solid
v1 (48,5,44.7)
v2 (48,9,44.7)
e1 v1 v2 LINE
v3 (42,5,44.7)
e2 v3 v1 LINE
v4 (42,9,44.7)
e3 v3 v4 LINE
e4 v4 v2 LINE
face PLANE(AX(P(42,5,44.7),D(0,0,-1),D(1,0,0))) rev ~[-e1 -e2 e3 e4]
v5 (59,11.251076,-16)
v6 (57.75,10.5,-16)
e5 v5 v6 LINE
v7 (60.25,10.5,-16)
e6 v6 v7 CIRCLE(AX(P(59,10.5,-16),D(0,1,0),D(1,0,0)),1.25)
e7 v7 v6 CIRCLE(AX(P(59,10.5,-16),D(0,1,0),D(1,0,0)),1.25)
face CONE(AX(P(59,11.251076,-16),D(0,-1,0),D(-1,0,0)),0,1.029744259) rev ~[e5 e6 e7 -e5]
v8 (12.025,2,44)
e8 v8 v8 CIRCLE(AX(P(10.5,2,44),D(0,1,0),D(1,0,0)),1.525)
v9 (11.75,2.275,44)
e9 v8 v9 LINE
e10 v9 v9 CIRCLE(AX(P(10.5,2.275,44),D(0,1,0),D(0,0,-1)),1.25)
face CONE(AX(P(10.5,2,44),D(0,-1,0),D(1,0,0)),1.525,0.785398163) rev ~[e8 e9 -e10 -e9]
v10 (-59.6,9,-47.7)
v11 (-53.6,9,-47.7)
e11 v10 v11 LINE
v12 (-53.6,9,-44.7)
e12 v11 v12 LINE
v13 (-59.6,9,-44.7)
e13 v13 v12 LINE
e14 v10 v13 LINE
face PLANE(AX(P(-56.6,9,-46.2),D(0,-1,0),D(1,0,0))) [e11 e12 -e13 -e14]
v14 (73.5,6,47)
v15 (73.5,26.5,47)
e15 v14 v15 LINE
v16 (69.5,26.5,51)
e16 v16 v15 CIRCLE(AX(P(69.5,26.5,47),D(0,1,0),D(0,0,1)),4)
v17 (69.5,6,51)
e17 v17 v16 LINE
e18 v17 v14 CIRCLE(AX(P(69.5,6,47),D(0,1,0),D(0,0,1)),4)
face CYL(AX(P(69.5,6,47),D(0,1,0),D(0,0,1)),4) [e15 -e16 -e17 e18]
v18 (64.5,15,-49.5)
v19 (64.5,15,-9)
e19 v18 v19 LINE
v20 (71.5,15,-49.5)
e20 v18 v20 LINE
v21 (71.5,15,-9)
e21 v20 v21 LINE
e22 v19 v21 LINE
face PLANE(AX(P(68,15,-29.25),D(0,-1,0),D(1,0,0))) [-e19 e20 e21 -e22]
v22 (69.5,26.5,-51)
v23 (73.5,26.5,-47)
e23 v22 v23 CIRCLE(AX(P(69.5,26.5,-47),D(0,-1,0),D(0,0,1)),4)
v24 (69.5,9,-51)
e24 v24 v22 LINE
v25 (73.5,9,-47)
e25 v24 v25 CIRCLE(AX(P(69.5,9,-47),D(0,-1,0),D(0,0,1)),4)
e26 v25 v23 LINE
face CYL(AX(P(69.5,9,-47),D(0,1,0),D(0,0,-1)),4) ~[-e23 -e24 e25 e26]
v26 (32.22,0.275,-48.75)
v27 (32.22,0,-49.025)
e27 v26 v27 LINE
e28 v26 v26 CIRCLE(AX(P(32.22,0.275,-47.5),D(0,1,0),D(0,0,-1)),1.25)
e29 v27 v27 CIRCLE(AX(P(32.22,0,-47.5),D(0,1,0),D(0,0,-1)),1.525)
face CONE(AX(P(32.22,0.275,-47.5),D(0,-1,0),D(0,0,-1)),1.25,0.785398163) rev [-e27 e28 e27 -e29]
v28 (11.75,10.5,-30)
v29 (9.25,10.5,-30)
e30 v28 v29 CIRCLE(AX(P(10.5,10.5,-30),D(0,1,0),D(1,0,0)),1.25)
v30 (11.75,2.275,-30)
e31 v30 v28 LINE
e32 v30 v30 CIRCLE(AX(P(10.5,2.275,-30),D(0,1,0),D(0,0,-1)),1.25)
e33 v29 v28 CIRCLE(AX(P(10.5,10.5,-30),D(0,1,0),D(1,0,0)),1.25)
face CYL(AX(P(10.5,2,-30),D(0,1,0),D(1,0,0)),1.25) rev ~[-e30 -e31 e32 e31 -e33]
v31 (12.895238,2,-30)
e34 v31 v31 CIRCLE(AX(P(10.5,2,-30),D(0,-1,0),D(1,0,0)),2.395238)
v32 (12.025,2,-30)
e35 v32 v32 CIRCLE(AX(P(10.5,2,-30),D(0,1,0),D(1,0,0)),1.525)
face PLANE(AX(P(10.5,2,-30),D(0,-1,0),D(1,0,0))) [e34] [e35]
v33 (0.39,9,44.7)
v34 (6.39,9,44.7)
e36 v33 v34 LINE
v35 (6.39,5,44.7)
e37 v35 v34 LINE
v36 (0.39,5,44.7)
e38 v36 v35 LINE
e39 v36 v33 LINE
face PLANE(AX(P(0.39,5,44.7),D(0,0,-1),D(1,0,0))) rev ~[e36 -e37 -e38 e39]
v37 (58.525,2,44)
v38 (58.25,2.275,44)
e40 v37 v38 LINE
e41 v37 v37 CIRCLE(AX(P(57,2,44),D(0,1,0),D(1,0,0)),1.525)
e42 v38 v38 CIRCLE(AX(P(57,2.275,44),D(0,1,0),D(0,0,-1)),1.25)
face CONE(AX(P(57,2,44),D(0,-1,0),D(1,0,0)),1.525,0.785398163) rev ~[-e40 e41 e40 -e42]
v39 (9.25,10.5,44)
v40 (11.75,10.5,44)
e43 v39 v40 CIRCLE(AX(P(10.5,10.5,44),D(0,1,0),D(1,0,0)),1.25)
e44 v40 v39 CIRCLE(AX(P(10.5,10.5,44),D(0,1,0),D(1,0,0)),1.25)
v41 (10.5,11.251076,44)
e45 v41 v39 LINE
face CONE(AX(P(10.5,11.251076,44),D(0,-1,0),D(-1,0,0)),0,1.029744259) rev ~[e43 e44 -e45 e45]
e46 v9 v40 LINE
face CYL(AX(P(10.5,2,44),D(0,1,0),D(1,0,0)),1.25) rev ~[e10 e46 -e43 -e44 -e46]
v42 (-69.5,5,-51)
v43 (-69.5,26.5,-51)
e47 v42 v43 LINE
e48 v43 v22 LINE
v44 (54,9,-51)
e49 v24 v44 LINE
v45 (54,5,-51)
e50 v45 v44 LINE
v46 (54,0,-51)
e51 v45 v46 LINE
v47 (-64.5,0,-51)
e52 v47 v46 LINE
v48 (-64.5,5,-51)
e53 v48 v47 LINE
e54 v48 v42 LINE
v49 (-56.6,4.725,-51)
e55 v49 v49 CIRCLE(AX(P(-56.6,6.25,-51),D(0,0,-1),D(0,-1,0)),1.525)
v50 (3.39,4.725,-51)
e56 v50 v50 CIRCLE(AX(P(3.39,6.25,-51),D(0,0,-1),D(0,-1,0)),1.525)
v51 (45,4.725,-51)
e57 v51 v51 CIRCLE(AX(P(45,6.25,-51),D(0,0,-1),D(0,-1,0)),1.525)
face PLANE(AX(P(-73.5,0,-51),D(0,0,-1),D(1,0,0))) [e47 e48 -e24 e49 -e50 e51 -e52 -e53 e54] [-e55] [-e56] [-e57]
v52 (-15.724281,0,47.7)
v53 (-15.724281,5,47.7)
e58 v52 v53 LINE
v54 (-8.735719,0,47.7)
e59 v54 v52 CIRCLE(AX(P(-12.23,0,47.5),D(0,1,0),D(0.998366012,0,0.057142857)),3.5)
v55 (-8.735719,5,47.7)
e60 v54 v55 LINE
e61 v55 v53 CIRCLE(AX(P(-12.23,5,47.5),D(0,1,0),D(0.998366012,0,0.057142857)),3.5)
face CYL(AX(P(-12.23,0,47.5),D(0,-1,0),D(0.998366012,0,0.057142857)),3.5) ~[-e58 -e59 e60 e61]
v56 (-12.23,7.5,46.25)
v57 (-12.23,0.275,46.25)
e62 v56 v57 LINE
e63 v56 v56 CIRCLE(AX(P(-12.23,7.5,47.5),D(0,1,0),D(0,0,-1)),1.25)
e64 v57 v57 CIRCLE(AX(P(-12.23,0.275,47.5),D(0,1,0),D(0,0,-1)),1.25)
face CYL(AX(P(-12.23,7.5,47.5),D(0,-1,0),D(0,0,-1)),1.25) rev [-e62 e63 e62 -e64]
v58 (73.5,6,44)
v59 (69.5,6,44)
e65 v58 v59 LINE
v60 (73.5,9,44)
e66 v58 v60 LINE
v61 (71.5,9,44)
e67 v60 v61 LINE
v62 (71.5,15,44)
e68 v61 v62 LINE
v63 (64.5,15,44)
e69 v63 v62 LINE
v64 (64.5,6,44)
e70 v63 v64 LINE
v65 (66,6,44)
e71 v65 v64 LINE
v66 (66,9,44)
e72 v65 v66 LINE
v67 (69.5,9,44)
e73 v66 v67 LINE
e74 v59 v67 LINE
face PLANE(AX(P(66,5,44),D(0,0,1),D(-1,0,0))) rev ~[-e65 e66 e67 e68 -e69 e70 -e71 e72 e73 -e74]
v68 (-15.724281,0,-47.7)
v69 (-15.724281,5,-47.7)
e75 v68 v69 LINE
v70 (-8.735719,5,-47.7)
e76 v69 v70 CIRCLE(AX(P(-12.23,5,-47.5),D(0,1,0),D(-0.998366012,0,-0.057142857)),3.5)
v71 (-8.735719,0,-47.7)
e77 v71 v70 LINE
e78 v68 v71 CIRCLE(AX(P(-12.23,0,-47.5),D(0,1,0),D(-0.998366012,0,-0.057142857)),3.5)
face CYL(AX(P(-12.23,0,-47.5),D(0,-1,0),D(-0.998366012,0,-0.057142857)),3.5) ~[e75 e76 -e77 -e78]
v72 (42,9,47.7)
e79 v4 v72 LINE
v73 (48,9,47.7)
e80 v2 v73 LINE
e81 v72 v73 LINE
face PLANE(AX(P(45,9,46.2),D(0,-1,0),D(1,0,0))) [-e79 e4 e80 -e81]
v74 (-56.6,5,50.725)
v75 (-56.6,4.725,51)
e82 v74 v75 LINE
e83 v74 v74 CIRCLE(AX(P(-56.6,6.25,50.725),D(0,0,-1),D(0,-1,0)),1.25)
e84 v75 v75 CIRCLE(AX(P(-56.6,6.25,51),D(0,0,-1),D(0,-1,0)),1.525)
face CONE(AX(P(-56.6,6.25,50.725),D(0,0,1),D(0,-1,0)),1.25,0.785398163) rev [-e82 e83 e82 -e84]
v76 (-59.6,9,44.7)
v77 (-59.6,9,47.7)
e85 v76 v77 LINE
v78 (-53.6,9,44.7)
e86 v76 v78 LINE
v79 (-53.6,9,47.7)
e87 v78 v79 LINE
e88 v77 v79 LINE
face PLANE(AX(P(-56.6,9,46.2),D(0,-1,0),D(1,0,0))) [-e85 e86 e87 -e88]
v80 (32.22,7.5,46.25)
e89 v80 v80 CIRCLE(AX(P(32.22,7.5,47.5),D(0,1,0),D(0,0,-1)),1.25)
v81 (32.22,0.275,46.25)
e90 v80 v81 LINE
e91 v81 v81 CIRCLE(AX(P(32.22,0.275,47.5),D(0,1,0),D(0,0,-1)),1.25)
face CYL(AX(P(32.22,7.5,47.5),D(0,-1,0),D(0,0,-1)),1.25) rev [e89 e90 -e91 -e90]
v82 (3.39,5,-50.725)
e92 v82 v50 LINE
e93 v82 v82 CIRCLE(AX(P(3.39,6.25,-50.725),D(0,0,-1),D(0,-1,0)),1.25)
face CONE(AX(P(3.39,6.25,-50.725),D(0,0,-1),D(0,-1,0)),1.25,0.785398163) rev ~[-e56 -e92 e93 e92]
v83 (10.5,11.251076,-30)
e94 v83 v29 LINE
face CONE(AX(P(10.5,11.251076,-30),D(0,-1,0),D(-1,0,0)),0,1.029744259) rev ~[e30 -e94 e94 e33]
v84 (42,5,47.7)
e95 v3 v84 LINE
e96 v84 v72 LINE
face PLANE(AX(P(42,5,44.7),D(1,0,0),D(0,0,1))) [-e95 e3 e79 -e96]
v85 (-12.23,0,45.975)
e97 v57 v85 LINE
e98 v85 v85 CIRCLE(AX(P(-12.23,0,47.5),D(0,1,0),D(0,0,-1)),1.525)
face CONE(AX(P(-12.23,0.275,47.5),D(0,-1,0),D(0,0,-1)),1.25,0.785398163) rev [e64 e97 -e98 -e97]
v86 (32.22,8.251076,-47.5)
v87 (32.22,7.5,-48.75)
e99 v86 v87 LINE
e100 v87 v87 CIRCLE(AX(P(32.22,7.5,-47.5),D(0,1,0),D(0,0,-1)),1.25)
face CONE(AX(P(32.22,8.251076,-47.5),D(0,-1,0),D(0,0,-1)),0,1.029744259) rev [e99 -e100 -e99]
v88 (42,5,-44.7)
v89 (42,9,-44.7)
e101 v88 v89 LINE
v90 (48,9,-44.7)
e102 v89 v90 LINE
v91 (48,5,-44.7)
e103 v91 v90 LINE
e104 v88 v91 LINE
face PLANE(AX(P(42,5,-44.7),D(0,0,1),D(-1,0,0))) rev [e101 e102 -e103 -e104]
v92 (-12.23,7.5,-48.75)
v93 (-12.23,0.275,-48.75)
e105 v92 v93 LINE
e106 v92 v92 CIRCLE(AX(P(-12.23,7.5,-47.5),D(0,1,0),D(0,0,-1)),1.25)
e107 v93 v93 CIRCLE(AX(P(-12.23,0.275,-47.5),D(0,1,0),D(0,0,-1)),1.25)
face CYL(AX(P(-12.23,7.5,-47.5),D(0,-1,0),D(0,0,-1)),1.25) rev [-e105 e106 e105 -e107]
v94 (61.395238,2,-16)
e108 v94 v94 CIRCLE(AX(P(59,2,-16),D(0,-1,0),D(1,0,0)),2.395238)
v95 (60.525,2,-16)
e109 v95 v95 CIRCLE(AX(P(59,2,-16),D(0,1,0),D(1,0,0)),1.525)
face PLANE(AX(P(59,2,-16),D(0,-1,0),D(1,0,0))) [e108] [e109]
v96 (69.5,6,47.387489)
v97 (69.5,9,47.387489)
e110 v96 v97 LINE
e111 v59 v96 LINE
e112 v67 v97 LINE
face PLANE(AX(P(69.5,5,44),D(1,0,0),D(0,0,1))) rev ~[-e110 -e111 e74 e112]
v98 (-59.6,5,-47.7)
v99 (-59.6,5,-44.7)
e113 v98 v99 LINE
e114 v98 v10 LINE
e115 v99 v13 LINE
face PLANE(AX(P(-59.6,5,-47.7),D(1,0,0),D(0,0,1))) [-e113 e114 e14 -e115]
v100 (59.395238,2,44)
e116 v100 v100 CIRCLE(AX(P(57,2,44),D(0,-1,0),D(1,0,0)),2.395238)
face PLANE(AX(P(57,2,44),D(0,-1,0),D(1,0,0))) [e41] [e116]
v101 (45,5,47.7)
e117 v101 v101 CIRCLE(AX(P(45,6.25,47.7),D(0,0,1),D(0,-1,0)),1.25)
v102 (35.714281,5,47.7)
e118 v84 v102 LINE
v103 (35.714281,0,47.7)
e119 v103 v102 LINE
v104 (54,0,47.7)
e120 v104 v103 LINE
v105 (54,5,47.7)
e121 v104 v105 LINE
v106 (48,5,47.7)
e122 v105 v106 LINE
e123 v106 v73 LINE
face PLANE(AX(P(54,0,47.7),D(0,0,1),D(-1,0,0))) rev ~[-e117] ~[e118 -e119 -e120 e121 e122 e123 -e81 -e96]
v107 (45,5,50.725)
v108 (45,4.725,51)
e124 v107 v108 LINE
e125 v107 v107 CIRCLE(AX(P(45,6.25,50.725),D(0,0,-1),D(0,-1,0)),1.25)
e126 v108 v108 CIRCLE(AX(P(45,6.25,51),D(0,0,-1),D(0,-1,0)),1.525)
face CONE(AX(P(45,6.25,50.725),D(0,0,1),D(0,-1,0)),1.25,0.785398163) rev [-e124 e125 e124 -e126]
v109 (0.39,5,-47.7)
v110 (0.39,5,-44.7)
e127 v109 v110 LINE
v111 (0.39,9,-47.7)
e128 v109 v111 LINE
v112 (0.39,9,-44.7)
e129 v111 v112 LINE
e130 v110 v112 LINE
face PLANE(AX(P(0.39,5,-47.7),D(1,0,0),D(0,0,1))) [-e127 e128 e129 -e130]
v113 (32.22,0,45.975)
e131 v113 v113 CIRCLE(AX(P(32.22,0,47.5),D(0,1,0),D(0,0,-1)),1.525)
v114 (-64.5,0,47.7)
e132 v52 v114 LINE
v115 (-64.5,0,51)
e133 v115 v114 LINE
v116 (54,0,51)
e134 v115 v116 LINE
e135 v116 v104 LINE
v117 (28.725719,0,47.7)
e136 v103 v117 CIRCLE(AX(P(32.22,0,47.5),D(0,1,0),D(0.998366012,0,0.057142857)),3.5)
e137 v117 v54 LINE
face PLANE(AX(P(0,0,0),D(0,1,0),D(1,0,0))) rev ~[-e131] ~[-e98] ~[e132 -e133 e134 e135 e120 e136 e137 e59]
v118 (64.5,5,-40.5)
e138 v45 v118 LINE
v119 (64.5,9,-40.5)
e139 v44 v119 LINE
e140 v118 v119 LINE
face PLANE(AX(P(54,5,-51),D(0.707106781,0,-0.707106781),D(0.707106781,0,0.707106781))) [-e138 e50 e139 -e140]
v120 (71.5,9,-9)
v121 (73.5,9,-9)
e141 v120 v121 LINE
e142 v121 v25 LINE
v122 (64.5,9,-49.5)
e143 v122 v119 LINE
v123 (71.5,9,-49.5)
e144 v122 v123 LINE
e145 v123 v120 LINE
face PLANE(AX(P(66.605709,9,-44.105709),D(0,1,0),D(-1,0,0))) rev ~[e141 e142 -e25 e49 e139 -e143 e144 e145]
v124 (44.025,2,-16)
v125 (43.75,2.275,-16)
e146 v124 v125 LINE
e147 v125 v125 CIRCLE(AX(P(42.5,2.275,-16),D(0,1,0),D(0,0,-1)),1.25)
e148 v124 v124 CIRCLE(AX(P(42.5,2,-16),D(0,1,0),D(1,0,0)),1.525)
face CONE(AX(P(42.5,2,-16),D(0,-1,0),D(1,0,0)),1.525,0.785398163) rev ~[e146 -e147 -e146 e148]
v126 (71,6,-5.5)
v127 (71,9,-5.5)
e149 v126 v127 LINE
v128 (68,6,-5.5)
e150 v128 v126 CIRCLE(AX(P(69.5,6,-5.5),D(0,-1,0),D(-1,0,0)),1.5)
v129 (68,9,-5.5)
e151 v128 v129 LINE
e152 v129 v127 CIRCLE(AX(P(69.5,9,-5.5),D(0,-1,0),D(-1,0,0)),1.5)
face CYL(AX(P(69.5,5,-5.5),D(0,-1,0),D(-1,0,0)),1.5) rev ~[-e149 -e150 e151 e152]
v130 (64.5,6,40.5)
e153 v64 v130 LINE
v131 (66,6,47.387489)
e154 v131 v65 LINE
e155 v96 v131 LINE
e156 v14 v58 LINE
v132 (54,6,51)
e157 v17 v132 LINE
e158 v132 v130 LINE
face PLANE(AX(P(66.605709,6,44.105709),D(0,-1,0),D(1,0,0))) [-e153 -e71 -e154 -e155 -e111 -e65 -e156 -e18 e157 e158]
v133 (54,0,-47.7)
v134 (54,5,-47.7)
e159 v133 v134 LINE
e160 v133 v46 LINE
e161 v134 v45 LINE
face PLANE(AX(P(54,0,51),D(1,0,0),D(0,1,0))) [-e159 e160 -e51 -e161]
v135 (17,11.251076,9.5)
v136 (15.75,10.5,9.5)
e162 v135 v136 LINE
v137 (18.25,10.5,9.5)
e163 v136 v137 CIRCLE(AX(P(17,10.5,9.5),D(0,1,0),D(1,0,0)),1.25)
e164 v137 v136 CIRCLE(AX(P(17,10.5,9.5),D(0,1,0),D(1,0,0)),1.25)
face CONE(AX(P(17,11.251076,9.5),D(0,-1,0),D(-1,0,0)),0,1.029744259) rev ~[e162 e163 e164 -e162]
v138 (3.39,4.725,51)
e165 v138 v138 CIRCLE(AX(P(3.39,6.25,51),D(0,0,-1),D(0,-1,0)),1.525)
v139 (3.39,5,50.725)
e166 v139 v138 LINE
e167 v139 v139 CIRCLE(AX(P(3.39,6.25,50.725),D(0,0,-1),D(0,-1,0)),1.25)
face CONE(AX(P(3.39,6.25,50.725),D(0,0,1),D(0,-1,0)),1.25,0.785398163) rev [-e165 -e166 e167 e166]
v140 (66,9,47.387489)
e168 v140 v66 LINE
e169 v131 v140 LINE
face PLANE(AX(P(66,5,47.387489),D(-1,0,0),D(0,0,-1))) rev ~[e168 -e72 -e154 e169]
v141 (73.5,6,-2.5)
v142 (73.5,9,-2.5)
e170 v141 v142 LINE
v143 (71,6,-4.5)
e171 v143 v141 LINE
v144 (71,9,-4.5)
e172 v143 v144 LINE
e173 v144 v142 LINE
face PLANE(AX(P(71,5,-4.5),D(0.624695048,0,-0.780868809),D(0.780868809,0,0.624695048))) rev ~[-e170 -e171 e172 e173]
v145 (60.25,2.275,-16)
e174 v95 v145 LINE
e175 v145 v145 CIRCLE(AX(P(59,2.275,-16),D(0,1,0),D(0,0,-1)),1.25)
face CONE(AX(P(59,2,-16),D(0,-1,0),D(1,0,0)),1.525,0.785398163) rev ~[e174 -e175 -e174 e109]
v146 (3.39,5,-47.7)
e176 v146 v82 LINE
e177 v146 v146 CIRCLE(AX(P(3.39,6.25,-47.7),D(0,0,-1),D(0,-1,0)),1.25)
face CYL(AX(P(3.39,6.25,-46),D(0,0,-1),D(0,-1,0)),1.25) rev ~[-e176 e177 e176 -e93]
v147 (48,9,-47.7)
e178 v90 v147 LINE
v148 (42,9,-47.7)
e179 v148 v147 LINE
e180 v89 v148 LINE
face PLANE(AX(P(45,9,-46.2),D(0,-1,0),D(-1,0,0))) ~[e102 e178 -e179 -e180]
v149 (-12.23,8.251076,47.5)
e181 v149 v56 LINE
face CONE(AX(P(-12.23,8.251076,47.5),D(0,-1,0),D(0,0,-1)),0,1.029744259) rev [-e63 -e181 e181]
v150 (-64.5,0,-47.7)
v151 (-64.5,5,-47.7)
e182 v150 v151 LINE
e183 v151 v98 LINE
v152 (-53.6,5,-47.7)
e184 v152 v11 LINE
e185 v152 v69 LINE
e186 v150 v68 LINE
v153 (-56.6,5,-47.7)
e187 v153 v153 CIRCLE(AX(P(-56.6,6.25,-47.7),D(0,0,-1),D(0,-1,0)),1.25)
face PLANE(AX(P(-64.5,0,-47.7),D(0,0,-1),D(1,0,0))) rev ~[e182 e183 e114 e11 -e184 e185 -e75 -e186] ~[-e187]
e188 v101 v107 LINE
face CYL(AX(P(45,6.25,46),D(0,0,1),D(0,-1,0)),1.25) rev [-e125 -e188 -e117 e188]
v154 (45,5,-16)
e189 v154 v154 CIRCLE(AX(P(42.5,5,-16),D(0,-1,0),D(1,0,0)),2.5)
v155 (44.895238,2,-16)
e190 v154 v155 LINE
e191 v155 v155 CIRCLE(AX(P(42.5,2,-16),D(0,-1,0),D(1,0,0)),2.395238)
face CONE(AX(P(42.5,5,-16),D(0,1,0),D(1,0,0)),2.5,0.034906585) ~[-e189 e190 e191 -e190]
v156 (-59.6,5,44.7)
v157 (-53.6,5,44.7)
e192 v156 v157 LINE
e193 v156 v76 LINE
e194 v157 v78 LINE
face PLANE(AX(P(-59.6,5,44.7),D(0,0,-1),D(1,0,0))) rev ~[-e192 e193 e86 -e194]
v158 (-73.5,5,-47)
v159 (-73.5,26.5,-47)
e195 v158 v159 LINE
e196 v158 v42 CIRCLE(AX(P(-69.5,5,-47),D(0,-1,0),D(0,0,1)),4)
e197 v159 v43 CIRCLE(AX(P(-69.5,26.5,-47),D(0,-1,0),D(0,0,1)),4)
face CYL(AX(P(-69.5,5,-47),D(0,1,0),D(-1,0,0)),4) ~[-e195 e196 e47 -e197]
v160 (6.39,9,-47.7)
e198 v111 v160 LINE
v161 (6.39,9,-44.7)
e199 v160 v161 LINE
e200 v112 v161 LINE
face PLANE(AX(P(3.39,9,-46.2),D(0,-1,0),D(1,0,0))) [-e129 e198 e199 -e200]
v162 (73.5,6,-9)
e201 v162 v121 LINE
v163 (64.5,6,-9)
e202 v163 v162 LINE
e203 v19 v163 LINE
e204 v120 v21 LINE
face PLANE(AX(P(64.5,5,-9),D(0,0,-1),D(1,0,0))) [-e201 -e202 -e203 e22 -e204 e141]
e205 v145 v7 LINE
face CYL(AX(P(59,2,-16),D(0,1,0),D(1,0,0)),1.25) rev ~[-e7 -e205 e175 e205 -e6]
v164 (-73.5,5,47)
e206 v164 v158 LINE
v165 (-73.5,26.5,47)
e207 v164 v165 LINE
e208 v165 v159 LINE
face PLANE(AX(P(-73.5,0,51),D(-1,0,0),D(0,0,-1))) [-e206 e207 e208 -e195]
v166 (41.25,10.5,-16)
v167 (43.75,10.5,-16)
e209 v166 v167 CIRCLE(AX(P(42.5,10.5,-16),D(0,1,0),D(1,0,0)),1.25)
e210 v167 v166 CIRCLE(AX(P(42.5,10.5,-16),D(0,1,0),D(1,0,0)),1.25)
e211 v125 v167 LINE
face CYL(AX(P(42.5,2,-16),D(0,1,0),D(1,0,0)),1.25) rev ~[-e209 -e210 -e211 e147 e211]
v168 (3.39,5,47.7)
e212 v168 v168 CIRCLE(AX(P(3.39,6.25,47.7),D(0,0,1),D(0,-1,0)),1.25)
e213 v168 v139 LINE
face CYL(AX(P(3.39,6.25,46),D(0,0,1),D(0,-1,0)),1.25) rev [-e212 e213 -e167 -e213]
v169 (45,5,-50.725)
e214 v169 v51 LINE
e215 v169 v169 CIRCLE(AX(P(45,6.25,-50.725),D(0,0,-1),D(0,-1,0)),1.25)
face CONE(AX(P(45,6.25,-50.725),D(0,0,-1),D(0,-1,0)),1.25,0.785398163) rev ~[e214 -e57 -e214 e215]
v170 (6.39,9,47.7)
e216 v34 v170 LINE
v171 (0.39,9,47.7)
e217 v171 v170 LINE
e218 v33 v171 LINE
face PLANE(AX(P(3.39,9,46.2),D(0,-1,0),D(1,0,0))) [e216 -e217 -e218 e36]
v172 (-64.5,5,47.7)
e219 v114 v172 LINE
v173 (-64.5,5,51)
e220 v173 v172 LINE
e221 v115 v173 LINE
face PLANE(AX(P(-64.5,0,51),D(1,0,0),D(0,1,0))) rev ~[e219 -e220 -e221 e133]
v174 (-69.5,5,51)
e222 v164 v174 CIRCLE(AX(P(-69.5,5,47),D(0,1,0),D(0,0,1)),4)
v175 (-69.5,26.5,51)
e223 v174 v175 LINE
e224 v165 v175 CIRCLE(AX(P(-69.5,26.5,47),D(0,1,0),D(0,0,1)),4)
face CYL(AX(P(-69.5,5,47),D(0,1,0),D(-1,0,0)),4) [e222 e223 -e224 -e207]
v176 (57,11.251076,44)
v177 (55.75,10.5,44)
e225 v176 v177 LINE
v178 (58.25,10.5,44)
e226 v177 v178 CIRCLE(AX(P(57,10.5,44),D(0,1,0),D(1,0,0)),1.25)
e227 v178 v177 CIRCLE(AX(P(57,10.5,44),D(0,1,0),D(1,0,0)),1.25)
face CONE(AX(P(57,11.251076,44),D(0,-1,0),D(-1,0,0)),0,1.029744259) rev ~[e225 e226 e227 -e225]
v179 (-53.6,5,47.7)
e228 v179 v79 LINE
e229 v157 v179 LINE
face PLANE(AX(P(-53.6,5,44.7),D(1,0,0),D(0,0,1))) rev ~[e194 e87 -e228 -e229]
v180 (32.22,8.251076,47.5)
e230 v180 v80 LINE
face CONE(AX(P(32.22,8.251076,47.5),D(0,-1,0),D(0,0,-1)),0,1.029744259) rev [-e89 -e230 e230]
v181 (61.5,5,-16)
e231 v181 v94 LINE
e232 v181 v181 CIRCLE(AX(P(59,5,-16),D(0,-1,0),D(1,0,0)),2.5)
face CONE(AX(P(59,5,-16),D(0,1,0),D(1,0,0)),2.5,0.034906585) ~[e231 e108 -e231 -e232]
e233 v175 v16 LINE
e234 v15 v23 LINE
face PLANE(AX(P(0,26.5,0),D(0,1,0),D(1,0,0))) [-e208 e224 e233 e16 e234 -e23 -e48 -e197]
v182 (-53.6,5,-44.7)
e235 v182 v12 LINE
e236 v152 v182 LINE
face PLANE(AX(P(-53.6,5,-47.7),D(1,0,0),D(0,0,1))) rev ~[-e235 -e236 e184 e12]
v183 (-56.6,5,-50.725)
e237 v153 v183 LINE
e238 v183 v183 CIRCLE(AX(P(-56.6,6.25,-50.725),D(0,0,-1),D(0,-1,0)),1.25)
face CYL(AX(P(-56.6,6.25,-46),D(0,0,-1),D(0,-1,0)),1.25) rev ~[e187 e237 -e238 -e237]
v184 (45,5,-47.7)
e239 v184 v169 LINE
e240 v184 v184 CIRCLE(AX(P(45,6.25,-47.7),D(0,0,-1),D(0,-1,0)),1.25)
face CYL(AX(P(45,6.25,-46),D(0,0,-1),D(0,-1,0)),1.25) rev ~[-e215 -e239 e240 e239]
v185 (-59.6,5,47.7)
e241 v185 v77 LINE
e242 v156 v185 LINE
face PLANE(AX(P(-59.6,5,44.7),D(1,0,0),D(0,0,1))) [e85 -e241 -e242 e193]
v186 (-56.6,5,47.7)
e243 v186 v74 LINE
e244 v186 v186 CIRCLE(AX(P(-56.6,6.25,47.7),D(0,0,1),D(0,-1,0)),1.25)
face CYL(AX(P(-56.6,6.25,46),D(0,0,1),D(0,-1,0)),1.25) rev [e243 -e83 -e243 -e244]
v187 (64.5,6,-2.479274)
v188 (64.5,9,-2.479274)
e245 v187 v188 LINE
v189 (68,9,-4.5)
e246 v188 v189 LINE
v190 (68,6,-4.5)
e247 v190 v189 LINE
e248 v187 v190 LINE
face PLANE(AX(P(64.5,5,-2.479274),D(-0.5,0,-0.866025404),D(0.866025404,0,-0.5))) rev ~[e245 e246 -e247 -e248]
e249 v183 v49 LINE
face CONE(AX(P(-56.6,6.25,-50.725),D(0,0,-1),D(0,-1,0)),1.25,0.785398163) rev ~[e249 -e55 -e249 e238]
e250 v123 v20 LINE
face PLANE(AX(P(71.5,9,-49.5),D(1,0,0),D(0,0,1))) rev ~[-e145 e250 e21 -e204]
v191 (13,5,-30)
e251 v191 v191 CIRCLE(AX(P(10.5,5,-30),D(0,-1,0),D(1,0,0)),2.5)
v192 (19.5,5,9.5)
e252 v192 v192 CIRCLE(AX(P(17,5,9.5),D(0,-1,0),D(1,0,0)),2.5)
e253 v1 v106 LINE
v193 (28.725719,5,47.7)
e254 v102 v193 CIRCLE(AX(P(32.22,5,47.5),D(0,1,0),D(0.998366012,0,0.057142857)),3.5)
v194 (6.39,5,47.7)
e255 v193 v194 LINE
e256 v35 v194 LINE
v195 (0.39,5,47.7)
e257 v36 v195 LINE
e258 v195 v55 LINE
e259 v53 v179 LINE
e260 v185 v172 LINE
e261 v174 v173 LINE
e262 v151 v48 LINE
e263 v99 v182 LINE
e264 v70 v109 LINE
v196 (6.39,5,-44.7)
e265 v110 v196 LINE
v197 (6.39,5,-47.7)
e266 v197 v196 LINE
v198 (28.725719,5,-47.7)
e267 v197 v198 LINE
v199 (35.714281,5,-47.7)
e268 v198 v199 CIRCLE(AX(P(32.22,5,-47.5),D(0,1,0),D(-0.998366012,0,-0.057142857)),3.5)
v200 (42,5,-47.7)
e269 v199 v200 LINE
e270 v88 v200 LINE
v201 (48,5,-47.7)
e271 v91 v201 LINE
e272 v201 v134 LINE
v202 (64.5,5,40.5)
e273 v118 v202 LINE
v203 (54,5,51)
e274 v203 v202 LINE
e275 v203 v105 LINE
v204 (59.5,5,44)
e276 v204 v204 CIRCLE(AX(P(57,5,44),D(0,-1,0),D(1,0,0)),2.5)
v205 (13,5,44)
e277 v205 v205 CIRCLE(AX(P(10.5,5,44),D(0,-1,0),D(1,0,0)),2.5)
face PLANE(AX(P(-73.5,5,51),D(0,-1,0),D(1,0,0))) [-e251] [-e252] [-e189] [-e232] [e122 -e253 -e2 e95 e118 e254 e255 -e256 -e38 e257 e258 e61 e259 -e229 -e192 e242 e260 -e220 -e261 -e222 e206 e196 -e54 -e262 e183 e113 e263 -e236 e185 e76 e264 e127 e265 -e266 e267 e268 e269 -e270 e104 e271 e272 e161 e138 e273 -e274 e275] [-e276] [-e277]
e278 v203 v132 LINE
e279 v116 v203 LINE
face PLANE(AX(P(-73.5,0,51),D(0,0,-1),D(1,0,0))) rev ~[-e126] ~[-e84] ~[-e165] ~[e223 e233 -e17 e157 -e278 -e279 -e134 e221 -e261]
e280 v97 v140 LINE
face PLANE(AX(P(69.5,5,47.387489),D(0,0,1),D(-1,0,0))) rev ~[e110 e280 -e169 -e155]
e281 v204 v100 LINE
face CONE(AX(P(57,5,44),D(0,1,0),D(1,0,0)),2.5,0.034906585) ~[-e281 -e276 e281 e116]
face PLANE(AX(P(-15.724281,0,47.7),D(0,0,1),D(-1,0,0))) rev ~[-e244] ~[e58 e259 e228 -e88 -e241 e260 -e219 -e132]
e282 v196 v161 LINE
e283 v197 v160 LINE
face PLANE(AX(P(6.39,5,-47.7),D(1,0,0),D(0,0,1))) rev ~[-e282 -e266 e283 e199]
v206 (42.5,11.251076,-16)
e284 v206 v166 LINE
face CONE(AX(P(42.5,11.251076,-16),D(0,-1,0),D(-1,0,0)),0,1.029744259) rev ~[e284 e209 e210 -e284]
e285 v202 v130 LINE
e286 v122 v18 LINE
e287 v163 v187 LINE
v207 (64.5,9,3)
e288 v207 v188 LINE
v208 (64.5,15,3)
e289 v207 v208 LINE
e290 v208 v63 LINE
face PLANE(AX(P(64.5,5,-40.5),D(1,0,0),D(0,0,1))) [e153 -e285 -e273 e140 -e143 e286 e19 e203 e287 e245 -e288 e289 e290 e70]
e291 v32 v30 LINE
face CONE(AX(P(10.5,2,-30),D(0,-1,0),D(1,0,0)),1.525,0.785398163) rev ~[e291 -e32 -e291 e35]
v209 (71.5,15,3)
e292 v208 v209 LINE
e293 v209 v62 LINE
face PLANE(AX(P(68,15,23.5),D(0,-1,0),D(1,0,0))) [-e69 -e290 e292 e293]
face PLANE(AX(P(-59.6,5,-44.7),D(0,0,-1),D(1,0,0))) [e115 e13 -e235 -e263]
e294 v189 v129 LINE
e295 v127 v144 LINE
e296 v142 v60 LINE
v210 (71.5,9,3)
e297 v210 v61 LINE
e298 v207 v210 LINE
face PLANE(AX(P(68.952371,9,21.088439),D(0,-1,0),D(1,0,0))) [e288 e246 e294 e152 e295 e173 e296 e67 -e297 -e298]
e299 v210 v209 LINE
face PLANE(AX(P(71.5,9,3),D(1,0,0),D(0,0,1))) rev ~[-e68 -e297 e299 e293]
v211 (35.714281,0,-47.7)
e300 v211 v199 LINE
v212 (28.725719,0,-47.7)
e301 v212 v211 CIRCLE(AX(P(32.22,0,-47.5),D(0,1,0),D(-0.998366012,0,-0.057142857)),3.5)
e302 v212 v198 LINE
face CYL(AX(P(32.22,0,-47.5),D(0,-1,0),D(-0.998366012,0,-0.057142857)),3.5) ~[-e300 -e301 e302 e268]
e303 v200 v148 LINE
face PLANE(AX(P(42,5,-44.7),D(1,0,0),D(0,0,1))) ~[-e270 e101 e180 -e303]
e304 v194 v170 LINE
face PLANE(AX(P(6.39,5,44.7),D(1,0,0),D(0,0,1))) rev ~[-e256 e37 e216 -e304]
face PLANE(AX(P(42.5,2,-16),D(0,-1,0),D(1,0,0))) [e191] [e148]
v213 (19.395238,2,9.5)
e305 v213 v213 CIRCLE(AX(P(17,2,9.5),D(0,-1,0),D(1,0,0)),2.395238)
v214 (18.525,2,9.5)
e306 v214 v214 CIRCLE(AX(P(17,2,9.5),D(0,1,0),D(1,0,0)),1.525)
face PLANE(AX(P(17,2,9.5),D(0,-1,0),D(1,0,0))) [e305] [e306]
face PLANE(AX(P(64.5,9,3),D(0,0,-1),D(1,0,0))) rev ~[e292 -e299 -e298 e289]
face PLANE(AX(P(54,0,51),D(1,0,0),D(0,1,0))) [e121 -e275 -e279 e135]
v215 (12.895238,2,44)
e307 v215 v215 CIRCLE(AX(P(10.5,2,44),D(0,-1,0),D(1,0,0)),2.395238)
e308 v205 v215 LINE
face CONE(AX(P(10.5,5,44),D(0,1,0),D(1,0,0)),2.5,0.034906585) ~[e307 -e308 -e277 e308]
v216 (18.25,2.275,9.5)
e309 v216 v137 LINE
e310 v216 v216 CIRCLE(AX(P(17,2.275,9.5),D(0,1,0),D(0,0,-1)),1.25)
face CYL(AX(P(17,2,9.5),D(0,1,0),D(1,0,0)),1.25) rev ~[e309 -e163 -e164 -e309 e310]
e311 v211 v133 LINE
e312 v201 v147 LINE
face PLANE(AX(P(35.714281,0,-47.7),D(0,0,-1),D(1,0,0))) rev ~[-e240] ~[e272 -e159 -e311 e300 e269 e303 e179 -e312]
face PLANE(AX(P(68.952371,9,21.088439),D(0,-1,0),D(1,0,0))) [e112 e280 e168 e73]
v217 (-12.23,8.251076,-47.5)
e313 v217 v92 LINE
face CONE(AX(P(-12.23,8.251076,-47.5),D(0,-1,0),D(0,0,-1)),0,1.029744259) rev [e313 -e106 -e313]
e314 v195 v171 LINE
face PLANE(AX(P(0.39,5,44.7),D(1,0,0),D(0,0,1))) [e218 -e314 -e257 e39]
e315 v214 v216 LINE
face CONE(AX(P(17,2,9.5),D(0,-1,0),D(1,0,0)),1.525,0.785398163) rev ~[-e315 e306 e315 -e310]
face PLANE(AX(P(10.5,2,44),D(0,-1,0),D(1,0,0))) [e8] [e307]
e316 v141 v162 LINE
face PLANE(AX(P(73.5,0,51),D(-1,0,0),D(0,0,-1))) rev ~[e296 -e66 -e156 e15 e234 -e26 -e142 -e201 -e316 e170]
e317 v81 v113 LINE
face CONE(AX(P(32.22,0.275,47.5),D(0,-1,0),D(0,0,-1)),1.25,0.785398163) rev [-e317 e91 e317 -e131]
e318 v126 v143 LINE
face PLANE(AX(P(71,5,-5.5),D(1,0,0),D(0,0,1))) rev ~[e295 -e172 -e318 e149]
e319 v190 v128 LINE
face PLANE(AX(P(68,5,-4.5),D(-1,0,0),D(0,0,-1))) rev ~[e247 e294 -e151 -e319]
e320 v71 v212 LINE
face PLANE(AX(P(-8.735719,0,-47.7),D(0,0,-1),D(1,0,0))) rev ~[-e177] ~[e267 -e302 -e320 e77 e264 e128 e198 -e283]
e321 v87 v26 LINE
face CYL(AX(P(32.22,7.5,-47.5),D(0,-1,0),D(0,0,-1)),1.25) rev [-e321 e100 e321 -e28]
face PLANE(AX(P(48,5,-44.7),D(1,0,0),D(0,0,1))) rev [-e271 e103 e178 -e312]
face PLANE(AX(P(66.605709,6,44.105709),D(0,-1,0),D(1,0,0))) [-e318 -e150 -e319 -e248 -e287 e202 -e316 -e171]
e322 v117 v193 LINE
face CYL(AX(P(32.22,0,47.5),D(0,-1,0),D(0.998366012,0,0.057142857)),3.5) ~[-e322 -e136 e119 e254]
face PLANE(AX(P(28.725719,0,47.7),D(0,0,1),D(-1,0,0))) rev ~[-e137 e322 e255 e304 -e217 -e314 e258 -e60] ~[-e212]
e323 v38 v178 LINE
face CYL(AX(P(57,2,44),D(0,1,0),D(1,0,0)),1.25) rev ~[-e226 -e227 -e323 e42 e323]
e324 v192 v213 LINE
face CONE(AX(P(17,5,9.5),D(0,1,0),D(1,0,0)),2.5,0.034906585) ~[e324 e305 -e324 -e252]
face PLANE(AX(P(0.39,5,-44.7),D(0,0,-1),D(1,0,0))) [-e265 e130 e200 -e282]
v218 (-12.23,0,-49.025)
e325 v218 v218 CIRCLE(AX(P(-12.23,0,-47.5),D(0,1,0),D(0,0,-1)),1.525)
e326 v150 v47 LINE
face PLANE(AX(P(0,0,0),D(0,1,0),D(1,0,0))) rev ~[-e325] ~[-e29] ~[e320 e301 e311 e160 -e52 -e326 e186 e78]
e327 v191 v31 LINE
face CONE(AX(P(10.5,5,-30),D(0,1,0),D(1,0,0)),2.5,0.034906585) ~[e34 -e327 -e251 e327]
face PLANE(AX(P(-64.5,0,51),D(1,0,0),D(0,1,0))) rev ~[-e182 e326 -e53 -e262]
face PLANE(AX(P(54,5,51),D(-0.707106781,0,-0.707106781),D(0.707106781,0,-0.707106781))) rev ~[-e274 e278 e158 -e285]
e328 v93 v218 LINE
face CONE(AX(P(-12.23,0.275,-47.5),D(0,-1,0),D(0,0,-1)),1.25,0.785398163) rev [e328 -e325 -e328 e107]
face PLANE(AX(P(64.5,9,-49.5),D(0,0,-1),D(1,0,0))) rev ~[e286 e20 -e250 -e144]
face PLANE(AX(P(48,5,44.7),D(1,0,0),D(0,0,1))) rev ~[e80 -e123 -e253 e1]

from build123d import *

# Parameters (mm, degrees)
SKETCH_4_W                   = 147
SKETCH_4_H                   = 102
EXTRUDE_1_DEPTH              = 26.5
PATTERN_LINEAR_3_COUNT       = 2
PATTERN_LINEAR_3_PITCH       = 44.45
PATTERN_LINEAR_3_COUNT_DIR2  = 2
PATTERN_LINEAR_3_PITCH_DIR2  = 95
SKETCH_10_W                  = 9
SKETCH_10_H                  = 5
CUT_EXTRUDE_1_DEPTH          = 103
SKETCH_12_W                  = 19.5
SKETCH_12_H                  = 5
CUT_EXTRUDE_2_DEPTH          = 103
CUT_EXTRUDE_3_DEPTH          = 4
CUT_EXTRUDE_4_DEPTH          = 1
CUT_EXTRUDE_7_DEPTH          = 5
SKETCH_16_W                  = 6
SKETCH_16_H                  = 3
CUT_EXTRUDE_8_DEPTH          = 4
PATTERN_LINEAR_4_COUNT       = 2
PATTERN_LINEAR_4_PITCH       = 41.61
PATTERN_LINEAR_4_COL_COUNT   = 2
PATTERN_LINEAR_4_COL_PITCH   = 101.6
MIRROR_2_COPY_1_SKETCH_W     = 6
MIRROR_2_COPY_1_SKETCH_H     = 3
MIRROR_2_COPY_1_DEPTH        = 4
MIRROR_2_COPY_2_SKETCH_W     = 6
MIRROR_2_COPY_2_SKETCH_H     = 3
MIRROR_2_COPY_2_DEPTH        = 4
PATTERN_LINEAR_1_COUNT       = 2
PATTERN_LINEAR_1_PITCH       = 41.61
PATTERN_LINEAR_1_COL_COUNT   = 2
PATTERN_LINEAR_1_COL_PITCH   = 101.6
SKETCH_17_R                  = 2.5
EXTRUDE_2_DEPTH              = 3
PATTERN_LINEAR_5_COUNT       = 2
PATTERN_LINEAR_5_PITCH       = 46.5
SKETCH_18_R                  = 2.5
EXTRUDE_3_DEPTH              = 3
DRAFT_1_ANGLE                = 2
SKETCH_19_W                  = 9
SKETCH_19_H                  = 81
CUT_EXTRUDE_9_DEPTH          = 1
SKETCH_21_W                  = 9
SKETCH_21_H                  = 42
CUT_EXTRUDE_10_DEPTH         = 4
SKETCH_22_W                  = 7
SKETCH_22_H                  = 41
SKETCH_22_H_2                = 40.5
CUT_EXTRUDE_11_DEPTH         = 6
HOLE_WIZARD_M3_3_D           = 2.5
HOLE_WIZARD_M3_3_DEPTH       = 8.5
HOLE_WIZARD_M3_3_CSINK_D     = 3.05
HOLE_WIZARD_M3_3_CSINK_ANGLE = 90
HOLE_WIZARD_M3_3_TIP         = 0.751075774
FILLET_1_R                   = 4


with BuildPart() as part:
    # 草图4 → 凸台-拉伸1 (new body)
    with BuildSketch(Plane(origin=(0, 0, 0), x_dir=(1, 0, 0), z_dir=(0, 1, 0))):
        Rectangle(SKETCH_4_W, SKETCH_4_H)
    extrude(amount=EXTRUDE_1_DEPTH)

    # 草图9 → M3 螺纹孔2 (revolve, cut)
    with BuildSketch(Plane(origin=(32.22, 0, 47.5), x_dir=(0, 0, -1), z_dir=(1, 0, 0))):
        Polygon((0, 0), (0, 8.251075774), (1.25, 7.5), (1.25, 0.275), (1.525, 0), align=None)
    hole_wizard_m3_2 = revolve(axis=Axis((32.22, -6.35, 47.5), (0, 1, 0)), mode=Mode.SUBTRACT)

    # 阵列(线性)3: Hole Wizard M3 _2 2 × 2
    with Locations(*[(-i * PATTERN_LINEAR_3_PITCH, 0, -j * PATTERN_LINEAR_3_PITCH_DIR2) for i in range(PATTERN_LINEAR_3_COUNT) for j in range(PATTERN_LINEAR_3_COUNT_DIR2) if (i, j) != (0, 0)]):
        add(hole_wizard_m3_2, mode=Mode.SUBTRACT)

    # 草图10 → 切除-拉伸1 (cut, through all)
    with BuildSketch(Plane.XY.offset(51)):
        with Locations((-69, 2.5)):
            Rectangle(SKETCH_10_W, SKETCH_10_H)
    extrude(amount=-CUT_EXTRUDE_1_DEPTH, mode=Mode.SUBTRACT)

    # 草图12 → 切除-拉伸2 (cut, through all)
    with BuildSketch(Plane.XY.offset(51)):
        with Locations((63.75, 2.5)):
            Rectangle(SKETCH_12_W, SKETCH_12_H)
    extrude(amount=-CUT_EXTRUDE_2_DEPTH, mode=Mode.SUBTRACT)

    # 草图13 → 切除-拉伸3 (cut)
    with BuildSketch(Plane.XZ.offset(-5)):
        Polygon((54, -51), (73.5, -31.5), (73.5, -51), align=None)
    extrude(amount=-CUT_EXTRUDE_3_DEPTH, mode=Mode.SUBTRACT)

    # 草图14 → 切除-拉伸4 (cut)
    with BuildSketch(Plane.XZ.offset(-5)):
        Polygon((54, 51), (73.5, 31.5), (73.5, 51), align=None)
    extrude(amount=-CUT_EXTRUDE_4_DEPTH, mode=Mode.SUBTRACT)

    # 草图15 → 切除-拉伸7 (cut)
    with BuildSketch(Plane.XZ):
        with BuildLine():
            Line((54, 47.7), (35.714281042, 47.7))
            ThreePointArc((35.714281042, 47.7), (32.22, 44), (28.725718958, 47.7))
            Line((28.725718958, 47.7), (-8.735718958, 47.7))
            ThreePointArc((-8.735718958, 47.7), (-12.23, 44), (-15.724281042, 47.7))
            Line((-15.724281042, 47.7), (-64.5, 47.7))
            Line((-64.5, 47.7), (-64.5, -47.7))
            Line((-64.5, -47.7), (-15.724281042, -47.7))
            ThreePointArc((-15.724281042, -47.7), (-12.23, -44), (-8.735718958, -47.7))
            Line((-8.735718958, -47.7), (28.725718958, -47.7))
            ThreePointArc((28.725718958, -47.7), (32.22, -44), (35.714281042, -47.7))
            Line((35.714281042, -47.7), (54, -47.7))
            Line((54, -47.7), (54, 47.7))
        make_face()
    extrude(amount=-CUT_EXTRUDE_7_DEPTH, mode=Mode.SUBTRACT)

    # 草图16 → 切除-拉伸8 (cut)
    with BuildSketch(Plane.XZ.offset(-5)):
        with Locations((45, 46.2)):
            Rectangle(SKETCH_16_W, SKETCH_16_H)
    cut_extrude_8 = extrude(amount=-CUT_EXTRUDE_8_DEPTH, mode=Mode.SUBTRACT)

    # 阵列(线性)4: 切除-拉伸8 ×2
    with Locations(*[(-i * PATTERN_LINEAR_4_PITCH, 0, 0) for i in range(1, PATTERN_LINEAR_4_COUNT)]):
        add(cut_extrude_8, mode=Mode.SUBTRACT)

    # 阵列(线性)4 col: 切除-拉伸8 ×2
    with Locations(*[(-i * PATTERN_LINEAR_4_COL_PITCH, 0, 0) for i in range(1, PATTERN_LINEAR_4_COL_COUNT)]):
        add(cut_extrude_8, mode=Mode.SUBTRACT)

    # 镜向2: 切除-拉伸8 across plane
    add(cut_extrude_8.mirror(Plane.XY), mode=Mode.SUBTRACT)

    # 镜向2 copy 1 sketch → 镜向2 copy 1 (cut)
    with BuildSketch(Plane(origin=(-41.61, 5, 0), x_dir=(1, 0, 0), z_dir=(0, -1, 0))):
        with Locations((45, -46.2)):
            Rectangle(MIRROR_2_COPY_1_SKETCH_W, MIRROR_2_COPY_1_SKETCH_H)
    extrude(amount=-MIRROR_2_COPY_1_DEPTH, mode=Mode.SUBTRACT)

    # 镜向2 copy 2 sketch → 镜向2 copy 2 (cut)
    with BuildSketch(Plane(origin=(-101.6, 5, 0), x_dir=(1, 0, 0), z_dir=(0, -1, 0))):
        with Locations((45, -46.2)):
            Rectangle(MIRROR_2_COPY_2_SKETCH_W, MIRROR_2_COPY_2_SKETCH_H)
    extrude(amount=-MIRROR_2_COPY_2_DEPTH, mode=Mode.SUBTRACT)

    # 草图7 → M3 螺纹孔1 (revolve, cut)
    with BuildSketch(Plane(origin=(45, 6.25, 51), x_dir=(0, -1, 0), z_dir=(1, 0, 0))):
        Polygon((0, 0), (0, 5.751075774), (1.25, 5), (1.25, 0.275), (1.525, 0), align=None)
    hole_wizard_m3_1 = revolve(axis=Axis((45, 6.25, 57.35), (0, 0, -1)), mode=Mode.SUBTRACT)

    # 阵列(线性)1: M3 螺纹孔1 ×2
    with Locations(*[(-i * PATTERN_LINEAR_1_PITCH, 0, 0) for i in range(1, PATTERN_LINEAR_1_COUNT)]):
        add(hole_wizard_m3_1, mode=Mode.SUBTRACT)

    # 阵列(线性)1 col: M3 螺纹孔1 ×2
    with Locations(*[(-i * PATTERN_LINEAR_1_COL_PITCH, 0, 0) for i in range(1, PATTERN_LINEAR_1_COL_COUNT)]):
        add(hole_wizard_m3_1, mode=Mode.SUBTRACT)

    # 镜向4: M3 螺纹孔1 across plane
    add(hole_wizard_m3_1.mirror(Plane.XY), mode=Mode.SUBTRACT)

    # 镜向4 copy 1 sketch → 镜向4 copy 1 (revolve, cut)
    with BuildSketch(Plane(origin=(3.39, 6.25, -51), x_dir=(0, -1, 0), z_dir=(1, 0, 0))):
        Polygon((0, 0), (0, -5.751075774), (1.25, -5), (1.25, -0.275), (1.525, 0), align=None)
    revolve(axis=Axis((3.39, 6.25, -57.35), (0, 0, -1)), mode=Mode.SUBTRACT)

    # 镜向4 copy 2 sketch → 镜向4 copy 2 (revolve, cut)
    with BuildSketch(Plane(origin=(-56.6, 6.25, -51), x_dir=(0, -1, 0), z_dir=(1, 0, 0))):
        Polygon((0, 0), (0, -5.751075774), (1.25, -5), (1.25, -0.275), (1.525, 0), align=None)
    revolve(axis=Axis((-56.6, 6.25, -57.35), (0, 0, -1)), mode=Mode.SUBTRACT)

    # 草图17 → 凸台-拉伸2 (add)
    with BuildSketch(Plane.XZ.offset(-5)):
        with Locations((57, 44)):
            Circle(SKETCH_17_R)
    extrude_2 = extrude(amount=EXTRUDE_2_DEPTH)

    # 阵列(线性)5: 凸台-拉伸2 ×2
    with Locations(*[(-i * PATTERN_LINEAR_5_PITCH, 0, 0) for i in range(1, PATTERN_LINEAR_5_COUNT)]):
        add(extrude_2)

    # 草图18 → 凸台-拉伸3 (add)
    with BuildSketch(Plane.XZ.offset(-5)):
        with Locations((10.5, -30)):
            Circle(SKETCH_18_R)
        with Locations((42.5, -16)):
            Circle(SKETCH_18_R)
        with Locations((59, -16)):
            Circle(SKETCH_18_R)
        with Locations((17, 9.5)):
            Circle(SKETCH_18_R)
    extrude(amount=EXTRUDE_3_DEPTH)

    # 拔模1
    draft_1_faces = [part.faces().sort_by_distance(p)[0] for p in [
        (8, 3.5, -30),
        (56.5, 3.5, -16),
        (40, 3.5, -16),
        (14.5, 3.5, 9.5),
        (8, 3.5, 44),
        (54.5, 3.5, 44),
    ]]
    draft(draft_1_faces, Plane(origin=(-73.5, 5, -51), x_dir=(0, 0, -1), z_dir=(0, -1, 0)), DRAFT_1_ANGLE)

    # 草图19 → 切除-拉伸9 (cut)
    with BuildSketch(Plane.XZ.offset(-5)):
        with Locations((69, 0)):
            Rectangle(SKETCH_19_W, SKETCH_19_H)
    extrude(amount=-CUT_EXTRUDE_9_DEPTH, mode=Mode.SUBTRACT)

    # 草图21 → 切除-拉伸10 (cut)
    with BuildSketch(Plane.XZ.offset(-5)):
        with Locations((69, -30)):
            Rectangle(SKETCH_21_W, SKETCH_21_H)
        with BuildLine():
            Line((73.5, 44), (69.5, 44))
            Line((69.5, 44), (69.5, 47.387489493))
            Line((69.5, 47.387489493), (66, 47.387489493))
            Line((66, 47.387489493), (66, 44))
            Line((66, 44), (64.5, 44))
            Line((64.5, 44), (64.5, -2.479274058))
            Line((64.5, -2.479274058), (68, -4.5))
            Line((68, -4.5), (68, -5.5))
            ThreePointArc((68, -5.5), (69.5, -7), (71, -5.5))
            Line((71, -5.5), (71, -4.5))
            Line((71, -4.5), (73.5, -2.5))
            Line((73.5, -2.5), (73.5, 44))
        make_face()
    extrude(amount=-CUT_EXTRUDE_10_DEPTH, mode=Mode.SUBTRACT)

    # 草图22 → 切除-拉伸11 (cut)
    with BuildSketch(Plane.XZ.offset(-9)):
        with Locations((68, 23.5)):
            Rectangle(SKETCH_22_W, SKETCH_22_H)
        with Locations((68, -29.25)):
            Rectangle(SKETCH_22_W, SKETCH_22_H_2)
    extrude(amount=-CUT_EXTRUDE_11_DEPTH, mode=Mode.SUBTRACT)

    # M3 螺纹孔3
    with Locations(Plane(origin=(0, 2, 0), x_dir=(-1, 0, 0), z_dir=(0, -1, 0))):
        with Locations((-57, -44), (-10.5, -44), (-17, -9.5), (-10.5, 30), (-42.5, 16), (-59, 16)):
            CounterSinkHole(HOLE_WIZARD_M3_3_D / 2, HOLE_WIZARD_M3_3_CSINK_D / 2, depth=HOLE_WIZARD_M3_3_DEPTH, counter_sink_angle=HOLE_WIZARD_M3_3_CSINK_ANGLE)
            with Locations((0, 0, -(HOLE_WIZARD_M3_3_DEPTH + HOLE_WIZARD_M3_3_TIP / 2))):  # 118° drill point
                Cone(0, HOLE_WIZARD_M3_3_D / 2, HOLE_WIZARD_M3_3_TIP, mode=Mode.SUBTRACT)

    # 圆角1
    fillet_1_edges = [part.edges().sort_by_distance(p)[0] for p in [
        (-73.5, 15.75, -51),
        (73.5, 17.75, -51),
        (73.5, 16.25, 51),
        (-73.5, 15.75, 51),
    ]]
    fillet(fillet_1_edges, radius=FILLET_1_R)


solid = part.part
